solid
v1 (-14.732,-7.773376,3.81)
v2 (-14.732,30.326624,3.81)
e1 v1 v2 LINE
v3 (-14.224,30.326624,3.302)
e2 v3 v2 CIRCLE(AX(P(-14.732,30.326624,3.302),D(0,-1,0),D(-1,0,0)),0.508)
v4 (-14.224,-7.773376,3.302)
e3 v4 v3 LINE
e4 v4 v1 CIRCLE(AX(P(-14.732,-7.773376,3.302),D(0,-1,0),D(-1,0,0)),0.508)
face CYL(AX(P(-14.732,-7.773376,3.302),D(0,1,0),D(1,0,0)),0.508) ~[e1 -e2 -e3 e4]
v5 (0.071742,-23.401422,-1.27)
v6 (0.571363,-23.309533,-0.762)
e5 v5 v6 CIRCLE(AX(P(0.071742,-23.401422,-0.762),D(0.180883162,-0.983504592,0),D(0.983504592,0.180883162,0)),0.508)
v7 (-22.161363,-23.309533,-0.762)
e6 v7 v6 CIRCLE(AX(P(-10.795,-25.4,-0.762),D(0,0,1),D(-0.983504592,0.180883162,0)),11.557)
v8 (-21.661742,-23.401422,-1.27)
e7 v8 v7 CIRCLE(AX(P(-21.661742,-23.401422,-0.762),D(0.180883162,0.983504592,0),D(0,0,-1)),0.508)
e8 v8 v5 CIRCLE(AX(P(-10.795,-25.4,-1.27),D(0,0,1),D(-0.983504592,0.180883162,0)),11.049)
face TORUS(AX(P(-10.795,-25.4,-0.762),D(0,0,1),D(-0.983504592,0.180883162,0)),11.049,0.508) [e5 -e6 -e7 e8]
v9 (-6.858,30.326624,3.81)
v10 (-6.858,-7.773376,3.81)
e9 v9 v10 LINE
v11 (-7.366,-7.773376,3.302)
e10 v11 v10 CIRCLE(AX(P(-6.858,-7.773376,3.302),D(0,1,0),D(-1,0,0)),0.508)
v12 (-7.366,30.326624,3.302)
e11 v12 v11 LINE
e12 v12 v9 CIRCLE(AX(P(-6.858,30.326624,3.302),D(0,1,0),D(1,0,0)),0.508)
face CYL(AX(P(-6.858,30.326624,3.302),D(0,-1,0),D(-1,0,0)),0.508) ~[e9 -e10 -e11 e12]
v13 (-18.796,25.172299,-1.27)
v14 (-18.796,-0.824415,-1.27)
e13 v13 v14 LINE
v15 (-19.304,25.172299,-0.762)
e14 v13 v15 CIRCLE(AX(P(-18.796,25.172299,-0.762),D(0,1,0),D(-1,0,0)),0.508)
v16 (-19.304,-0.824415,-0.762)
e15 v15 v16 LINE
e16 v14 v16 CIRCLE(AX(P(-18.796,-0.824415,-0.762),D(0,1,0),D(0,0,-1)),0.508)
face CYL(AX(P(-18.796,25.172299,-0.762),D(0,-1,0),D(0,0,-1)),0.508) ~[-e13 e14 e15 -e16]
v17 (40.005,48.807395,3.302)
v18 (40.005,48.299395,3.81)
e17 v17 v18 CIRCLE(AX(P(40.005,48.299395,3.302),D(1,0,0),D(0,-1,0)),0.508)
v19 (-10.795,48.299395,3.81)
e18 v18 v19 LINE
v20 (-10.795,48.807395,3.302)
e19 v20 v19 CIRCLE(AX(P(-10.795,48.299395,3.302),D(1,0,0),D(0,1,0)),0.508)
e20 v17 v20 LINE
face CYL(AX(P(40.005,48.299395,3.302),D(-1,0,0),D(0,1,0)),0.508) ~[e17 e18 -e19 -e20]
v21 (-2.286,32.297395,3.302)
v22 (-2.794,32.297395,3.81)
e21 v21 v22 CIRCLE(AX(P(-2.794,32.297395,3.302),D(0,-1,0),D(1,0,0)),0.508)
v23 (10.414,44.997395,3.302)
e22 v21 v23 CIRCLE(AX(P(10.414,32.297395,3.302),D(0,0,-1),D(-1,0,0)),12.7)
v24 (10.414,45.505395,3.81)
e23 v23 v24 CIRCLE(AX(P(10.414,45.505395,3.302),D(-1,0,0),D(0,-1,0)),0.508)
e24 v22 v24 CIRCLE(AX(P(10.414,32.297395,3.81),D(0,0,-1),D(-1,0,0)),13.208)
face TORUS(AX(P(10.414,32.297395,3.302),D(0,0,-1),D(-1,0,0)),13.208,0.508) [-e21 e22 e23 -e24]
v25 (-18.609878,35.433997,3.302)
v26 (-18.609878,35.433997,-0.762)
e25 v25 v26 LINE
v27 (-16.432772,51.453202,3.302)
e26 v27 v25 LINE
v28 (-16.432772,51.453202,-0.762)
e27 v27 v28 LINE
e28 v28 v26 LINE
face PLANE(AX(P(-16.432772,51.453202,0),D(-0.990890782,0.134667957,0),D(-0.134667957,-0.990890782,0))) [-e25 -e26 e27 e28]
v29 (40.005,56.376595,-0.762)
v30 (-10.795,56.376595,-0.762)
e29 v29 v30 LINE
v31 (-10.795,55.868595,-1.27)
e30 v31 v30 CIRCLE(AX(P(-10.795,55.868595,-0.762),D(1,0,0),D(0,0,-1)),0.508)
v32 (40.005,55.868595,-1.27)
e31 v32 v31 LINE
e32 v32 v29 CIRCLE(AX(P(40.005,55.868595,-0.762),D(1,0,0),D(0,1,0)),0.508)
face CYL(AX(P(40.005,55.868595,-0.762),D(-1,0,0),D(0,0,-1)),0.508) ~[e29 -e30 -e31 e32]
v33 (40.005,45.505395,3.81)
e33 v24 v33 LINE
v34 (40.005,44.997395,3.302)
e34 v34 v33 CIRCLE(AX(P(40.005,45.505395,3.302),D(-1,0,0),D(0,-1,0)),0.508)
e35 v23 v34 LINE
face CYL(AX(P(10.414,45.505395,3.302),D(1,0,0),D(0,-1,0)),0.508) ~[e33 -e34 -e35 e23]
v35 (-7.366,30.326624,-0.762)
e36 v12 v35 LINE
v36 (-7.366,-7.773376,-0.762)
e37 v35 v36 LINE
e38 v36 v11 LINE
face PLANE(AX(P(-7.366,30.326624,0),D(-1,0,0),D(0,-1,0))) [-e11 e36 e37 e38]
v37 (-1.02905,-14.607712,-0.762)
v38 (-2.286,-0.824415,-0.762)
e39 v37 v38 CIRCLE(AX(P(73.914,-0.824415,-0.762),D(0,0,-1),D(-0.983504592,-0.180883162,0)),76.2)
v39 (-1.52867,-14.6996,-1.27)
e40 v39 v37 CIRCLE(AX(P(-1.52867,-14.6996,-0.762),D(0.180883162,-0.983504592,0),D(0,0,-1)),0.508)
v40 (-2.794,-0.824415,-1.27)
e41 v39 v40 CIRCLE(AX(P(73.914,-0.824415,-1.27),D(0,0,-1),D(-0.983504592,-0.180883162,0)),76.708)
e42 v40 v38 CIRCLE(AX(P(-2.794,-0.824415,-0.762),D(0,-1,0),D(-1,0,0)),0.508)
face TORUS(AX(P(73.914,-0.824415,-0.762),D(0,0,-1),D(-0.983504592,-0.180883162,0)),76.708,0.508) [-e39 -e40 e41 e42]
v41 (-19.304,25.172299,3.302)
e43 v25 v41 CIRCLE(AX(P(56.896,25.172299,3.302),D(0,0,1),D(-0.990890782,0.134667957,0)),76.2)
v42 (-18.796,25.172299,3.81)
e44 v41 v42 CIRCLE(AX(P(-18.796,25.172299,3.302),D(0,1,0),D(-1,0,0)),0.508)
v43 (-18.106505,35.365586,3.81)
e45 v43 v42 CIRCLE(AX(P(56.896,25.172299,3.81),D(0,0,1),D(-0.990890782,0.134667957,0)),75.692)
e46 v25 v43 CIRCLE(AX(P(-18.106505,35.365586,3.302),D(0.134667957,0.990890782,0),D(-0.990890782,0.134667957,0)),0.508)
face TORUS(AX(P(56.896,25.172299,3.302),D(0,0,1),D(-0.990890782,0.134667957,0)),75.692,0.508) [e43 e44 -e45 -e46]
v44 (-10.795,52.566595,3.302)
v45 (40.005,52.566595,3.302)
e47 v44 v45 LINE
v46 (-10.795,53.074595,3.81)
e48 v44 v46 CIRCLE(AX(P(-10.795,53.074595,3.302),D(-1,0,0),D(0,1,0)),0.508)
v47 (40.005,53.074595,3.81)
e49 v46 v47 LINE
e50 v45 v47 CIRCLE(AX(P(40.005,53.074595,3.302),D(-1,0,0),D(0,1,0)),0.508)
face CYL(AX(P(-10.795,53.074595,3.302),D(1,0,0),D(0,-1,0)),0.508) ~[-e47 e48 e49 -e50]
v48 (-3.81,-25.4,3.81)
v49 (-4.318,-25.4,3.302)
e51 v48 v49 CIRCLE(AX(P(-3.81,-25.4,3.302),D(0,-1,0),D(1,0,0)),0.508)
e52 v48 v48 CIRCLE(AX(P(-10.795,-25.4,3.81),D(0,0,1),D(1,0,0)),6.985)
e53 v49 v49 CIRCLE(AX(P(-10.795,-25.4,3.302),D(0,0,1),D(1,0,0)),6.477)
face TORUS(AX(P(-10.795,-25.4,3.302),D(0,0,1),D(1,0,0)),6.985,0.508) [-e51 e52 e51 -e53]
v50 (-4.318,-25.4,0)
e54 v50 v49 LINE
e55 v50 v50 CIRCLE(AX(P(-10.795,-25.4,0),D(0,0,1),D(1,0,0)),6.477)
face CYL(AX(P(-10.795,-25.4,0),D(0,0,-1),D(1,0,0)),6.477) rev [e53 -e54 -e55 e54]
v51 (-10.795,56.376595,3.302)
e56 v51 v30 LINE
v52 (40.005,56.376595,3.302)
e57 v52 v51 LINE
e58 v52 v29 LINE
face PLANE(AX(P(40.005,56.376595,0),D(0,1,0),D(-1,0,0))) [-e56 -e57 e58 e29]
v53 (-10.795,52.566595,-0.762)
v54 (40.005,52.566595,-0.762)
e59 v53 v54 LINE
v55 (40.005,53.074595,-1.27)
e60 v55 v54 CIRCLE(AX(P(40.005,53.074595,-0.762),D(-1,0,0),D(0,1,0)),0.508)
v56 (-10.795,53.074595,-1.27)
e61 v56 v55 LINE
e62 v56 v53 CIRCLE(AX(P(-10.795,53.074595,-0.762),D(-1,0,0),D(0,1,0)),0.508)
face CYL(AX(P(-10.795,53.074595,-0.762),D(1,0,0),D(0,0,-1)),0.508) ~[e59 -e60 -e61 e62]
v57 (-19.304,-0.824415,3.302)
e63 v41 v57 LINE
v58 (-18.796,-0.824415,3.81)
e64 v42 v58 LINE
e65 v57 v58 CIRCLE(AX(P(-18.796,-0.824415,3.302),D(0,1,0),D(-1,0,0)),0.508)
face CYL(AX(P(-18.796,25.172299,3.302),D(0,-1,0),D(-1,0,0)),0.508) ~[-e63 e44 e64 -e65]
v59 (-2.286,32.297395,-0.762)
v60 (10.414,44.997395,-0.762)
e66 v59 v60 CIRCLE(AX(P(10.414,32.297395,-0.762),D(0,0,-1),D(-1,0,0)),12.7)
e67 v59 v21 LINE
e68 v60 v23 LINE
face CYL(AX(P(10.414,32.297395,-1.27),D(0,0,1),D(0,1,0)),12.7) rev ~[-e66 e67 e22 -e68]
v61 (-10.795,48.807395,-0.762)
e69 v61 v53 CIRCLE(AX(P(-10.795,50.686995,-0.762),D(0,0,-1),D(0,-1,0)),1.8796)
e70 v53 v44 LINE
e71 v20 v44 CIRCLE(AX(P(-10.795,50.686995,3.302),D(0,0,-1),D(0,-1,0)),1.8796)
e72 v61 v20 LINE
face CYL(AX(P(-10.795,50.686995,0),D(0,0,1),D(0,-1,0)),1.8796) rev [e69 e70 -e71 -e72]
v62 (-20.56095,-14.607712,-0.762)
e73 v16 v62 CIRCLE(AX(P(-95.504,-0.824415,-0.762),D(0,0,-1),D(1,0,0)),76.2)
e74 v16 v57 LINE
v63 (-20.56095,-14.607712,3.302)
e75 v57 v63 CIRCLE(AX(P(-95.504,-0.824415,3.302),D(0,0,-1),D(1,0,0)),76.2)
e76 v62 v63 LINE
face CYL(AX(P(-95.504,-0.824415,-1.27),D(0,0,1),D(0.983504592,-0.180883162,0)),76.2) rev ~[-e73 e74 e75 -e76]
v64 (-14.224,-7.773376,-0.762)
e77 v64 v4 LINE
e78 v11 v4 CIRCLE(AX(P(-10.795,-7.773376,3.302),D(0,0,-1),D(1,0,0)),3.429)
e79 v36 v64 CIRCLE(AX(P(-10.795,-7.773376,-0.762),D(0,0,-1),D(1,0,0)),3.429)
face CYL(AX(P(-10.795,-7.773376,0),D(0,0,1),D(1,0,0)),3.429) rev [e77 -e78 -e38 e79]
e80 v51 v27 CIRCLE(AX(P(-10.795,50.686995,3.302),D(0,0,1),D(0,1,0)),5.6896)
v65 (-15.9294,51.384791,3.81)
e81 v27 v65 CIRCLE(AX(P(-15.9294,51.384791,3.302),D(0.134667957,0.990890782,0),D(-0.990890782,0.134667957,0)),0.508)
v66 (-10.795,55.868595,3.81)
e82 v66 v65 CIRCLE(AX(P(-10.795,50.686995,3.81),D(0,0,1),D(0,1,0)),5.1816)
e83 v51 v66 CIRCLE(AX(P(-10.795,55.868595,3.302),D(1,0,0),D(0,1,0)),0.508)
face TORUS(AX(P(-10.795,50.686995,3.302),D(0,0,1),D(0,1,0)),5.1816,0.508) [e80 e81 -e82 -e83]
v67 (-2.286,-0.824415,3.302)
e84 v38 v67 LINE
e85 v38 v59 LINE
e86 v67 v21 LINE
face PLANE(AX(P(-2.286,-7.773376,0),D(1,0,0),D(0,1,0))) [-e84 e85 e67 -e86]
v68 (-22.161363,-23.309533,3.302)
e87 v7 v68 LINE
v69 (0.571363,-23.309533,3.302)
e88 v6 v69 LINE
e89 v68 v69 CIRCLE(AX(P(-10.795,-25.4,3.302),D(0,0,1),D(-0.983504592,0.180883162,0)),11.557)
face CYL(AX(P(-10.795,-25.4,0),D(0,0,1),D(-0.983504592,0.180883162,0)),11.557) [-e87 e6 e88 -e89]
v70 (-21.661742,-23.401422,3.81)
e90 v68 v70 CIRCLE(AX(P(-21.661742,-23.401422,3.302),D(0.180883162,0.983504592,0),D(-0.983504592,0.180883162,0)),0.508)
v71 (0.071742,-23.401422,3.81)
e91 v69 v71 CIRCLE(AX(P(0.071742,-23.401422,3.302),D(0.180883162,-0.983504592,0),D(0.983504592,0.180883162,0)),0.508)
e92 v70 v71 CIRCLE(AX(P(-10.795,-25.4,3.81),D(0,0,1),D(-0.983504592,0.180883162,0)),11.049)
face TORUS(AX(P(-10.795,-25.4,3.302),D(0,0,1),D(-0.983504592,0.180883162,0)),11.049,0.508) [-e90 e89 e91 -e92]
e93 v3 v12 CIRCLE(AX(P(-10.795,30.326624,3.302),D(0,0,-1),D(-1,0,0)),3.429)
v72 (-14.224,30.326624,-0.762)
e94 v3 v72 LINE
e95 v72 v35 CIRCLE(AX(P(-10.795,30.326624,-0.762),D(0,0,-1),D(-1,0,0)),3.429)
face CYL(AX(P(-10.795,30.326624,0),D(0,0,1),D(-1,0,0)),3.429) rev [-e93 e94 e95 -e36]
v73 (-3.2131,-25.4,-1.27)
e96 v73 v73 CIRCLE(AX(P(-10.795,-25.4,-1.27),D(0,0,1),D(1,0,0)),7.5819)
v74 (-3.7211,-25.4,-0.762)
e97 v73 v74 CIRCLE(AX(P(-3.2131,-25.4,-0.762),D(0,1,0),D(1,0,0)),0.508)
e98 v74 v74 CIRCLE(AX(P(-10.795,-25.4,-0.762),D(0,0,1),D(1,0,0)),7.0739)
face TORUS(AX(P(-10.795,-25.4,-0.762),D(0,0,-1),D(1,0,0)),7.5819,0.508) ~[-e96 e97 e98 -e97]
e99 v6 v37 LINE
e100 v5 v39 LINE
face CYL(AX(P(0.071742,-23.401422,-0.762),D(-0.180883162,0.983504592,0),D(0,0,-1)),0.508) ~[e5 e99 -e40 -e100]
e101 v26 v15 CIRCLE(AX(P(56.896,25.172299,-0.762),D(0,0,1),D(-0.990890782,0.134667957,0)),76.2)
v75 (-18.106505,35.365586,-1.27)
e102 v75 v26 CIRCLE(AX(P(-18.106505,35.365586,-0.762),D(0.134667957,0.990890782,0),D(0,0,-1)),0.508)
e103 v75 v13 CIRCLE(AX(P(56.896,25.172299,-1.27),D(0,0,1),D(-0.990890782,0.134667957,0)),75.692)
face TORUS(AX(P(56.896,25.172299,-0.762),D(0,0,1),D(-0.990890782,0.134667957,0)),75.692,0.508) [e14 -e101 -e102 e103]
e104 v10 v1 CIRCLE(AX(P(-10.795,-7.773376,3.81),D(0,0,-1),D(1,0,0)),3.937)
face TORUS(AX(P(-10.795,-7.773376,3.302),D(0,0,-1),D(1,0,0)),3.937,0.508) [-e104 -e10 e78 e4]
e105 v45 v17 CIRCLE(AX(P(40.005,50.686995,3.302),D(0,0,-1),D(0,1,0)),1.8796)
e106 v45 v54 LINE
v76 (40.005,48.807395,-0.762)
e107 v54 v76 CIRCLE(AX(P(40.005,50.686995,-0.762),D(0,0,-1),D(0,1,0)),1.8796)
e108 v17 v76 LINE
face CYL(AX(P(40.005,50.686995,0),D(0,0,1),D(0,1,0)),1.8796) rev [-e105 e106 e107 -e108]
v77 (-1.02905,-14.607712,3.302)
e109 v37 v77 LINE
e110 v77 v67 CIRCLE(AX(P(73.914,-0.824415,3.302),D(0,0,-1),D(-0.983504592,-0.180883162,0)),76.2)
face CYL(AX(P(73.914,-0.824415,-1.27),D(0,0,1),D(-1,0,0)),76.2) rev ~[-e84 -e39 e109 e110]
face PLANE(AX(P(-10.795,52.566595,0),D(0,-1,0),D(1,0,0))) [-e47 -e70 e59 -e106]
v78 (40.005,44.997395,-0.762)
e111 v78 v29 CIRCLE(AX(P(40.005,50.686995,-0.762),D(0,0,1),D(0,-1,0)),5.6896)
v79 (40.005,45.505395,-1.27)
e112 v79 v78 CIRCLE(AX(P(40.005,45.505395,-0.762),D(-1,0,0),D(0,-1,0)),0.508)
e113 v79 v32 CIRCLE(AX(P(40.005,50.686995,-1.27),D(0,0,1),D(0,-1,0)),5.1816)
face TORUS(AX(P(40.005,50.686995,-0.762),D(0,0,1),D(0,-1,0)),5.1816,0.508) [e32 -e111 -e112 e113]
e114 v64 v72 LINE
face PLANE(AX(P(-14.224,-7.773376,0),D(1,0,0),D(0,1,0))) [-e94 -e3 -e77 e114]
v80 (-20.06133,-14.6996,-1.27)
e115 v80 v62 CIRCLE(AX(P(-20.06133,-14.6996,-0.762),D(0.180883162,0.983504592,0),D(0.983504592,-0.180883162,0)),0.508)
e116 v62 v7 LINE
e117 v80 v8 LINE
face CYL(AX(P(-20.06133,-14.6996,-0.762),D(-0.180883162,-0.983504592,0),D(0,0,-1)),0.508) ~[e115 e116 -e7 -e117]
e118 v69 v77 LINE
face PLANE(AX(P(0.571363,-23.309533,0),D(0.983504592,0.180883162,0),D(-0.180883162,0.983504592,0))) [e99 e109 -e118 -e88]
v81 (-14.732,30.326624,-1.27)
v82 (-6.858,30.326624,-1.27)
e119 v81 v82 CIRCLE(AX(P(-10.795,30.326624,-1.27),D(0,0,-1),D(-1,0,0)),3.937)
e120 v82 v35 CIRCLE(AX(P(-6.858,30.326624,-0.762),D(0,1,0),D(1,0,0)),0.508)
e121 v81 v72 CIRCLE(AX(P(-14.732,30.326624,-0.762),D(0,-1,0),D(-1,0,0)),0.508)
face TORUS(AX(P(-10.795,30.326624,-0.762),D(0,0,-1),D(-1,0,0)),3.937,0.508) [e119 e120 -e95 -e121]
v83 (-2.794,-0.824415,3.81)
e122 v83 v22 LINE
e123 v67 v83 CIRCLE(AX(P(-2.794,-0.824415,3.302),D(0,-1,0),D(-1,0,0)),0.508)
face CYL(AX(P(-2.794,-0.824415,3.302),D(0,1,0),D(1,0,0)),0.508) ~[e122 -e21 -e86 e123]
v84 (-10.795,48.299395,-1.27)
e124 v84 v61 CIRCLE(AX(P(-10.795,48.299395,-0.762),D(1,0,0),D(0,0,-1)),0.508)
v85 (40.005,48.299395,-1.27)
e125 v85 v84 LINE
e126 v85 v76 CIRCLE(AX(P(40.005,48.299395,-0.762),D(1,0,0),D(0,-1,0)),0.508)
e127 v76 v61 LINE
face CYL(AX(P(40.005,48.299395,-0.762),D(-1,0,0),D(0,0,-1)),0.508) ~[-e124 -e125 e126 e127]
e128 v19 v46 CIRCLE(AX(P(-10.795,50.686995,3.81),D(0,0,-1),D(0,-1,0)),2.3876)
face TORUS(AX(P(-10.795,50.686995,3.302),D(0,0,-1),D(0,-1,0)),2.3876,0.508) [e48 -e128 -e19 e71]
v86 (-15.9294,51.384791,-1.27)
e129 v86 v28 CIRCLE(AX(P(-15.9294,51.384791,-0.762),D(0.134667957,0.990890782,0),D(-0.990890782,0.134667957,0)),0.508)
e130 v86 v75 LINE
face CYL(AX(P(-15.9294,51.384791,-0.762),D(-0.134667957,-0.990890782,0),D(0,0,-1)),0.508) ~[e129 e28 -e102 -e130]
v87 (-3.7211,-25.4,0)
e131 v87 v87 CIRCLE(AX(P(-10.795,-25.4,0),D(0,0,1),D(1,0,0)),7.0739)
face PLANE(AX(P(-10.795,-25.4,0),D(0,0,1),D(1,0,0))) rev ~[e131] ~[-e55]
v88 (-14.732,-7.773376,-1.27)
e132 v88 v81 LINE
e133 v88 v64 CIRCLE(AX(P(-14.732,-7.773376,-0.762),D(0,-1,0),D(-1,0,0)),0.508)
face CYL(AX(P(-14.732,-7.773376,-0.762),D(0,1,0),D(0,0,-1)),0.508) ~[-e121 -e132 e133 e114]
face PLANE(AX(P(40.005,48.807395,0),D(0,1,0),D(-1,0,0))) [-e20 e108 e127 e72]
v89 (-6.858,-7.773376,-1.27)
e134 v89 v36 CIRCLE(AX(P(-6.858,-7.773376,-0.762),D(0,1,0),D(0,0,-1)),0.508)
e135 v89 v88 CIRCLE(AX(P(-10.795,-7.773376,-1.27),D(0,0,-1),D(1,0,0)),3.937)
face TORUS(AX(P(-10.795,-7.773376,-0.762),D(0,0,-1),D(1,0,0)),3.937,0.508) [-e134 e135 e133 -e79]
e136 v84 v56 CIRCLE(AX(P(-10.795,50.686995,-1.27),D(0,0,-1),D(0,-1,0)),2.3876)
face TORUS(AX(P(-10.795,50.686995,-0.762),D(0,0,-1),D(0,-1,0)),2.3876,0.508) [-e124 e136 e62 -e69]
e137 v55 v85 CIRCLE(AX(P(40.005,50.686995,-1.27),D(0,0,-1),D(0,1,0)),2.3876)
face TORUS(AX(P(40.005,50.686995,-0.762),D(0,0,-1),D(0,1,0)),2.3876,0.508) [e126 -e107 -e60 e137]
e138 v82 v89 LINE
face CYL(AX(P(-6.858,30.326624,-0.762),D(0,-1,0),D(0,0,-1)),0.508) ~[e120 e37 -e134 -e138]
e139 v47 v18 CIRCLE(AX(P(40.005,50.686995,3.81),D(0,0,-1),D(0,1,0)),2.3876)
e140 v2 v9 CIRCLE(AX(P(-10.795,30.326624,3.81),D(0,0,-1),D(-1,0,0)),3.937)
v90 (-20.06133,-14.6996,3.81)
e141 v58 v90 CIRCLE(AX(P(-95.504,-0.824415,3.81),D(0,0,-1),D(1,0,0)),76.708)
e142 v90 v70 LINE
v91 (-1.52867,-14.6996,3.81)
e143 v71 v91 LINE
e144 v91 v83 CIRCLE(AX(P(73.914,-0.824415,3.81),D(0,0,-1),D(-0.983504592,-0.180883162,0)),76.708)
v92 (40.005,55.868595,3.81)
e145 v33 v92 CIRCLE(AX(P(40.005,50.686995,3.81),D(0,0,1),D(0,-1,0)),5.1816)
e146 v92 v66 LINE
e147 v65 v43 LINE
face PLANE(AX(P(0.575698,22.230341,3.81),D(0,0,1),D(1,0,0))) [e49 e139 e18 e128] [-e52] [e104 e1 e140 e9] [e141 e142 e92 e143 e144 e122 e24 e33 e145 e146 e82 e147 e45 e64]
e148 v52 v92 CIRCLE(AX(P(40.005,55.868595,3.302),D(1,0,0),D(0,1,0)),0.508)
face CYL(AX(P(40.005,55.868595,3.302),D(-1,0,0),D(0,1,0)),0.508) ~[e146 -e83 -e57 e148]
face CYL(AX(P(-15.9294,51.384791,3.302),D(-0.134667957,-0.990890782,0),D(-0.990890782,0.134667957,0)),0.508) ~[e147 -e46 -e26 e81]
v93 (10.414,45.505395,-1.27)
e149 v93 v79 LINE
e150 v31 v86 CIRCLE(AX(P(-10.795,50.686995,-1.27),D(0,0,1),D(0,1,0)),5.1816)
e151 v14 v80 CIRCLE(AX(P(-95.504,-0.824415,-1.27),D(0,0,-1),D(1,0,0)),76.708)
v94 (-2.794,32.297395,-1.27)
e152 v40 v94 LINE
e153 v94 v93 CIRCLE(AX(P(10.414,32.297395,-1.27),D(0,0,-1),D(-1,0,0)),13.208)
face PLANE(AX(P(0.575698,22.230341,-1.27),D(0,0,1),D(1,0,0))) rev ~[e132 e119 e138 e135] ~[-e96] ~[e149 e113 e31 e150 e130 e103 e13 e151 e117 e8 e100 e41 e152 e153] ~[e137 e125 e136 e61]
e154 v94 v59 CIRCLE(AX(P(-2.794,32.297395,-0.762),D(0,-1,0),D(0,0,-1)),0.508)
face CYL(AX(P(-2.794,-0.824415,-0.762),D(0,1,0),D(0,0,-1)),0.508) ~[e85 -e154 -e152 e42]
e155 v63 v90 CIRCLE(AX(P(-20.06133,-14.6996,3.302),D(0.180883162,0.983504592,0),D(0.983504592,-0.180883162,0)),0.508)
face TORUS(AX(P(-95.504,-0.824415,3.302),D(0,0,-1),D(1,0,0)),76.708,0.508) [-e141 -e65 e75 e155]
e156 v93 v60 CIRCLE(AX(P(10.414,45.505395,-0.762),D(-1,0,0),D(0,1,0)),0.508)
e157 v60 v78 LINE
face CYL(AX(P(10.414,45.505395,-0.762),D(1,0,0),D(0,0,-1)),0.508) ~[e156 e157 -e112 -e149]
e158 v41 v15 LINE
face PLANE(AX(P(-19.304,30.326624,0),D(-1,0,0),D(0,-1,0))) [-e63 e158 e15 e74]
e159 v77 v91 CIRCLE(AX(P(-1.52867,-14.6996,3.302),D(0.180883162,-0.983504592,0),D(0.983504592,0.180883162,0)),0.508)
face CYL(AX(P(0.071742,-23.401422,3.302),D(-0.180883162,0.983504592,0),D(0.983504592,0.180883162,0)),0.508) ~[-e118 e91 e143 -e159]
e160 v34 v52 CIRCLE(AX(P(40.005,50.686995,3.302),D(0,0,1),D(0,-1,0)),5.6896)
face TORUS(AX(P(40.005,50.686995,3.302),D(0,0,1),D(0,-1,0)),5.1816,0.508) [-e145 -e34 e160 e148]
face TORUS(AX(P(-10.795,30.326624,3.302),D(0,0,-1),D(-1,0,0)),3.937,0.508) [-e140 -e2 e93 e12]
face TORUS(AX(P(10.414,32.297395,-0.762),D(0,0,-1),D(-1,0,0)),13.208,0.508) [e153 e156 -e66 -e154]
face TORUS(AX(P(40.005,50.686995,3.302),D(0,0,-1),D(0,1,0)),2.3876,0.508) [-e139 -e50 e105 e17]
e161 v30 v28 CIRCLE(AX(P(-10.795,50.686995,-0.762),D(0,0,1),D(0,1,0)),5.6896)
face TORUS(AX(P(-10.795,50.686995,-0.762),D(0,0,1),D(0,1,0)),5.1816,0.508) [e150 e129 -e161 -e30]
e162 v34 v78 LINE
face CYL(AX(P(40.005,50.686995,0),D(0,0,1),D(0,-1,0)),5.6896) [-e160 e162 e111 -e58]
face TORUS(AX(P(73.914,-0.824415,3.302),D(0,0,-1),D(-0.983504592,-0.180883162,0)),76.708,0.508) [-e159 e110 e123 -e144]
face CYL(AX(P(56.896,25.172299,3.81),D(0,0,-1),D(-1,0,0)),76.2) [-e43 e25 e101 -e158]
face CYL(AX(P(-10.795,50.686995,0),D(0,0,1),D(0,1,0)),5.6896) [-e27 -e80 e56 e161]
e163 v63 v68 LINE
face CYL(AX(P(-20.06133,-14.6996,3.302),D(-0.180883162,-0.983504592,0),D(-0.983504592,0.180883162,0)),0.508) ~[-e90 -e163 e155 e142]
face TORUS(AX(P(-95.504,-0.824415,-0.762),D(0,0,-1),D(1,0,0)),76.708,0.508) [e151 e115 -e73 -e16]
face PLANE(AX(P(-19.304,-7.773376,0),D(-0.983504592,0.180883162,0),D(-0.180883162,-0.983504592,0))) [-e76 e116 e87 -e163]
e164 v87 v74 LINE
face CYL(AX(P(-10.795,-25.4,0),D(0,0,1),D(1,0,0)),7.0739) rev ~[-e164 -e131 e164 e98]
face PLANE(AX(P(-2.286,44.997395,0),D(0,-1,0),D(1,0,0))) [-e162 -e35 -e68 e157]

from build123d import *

# Parameters (mm, degrees)
SKETCH1_R                = 6.477
BOSS_EXTRUDE1_DEPTH      = 3.81
BOSS_EXTRUDE1_DEPTH_BACK = 1.27
SKETCH2_R                = 7.0739
CUT_EXTRUDE1_DEPTH       = 2.27
FILLET2_R                = 12.7
FILLET3_R                = 76.2
FILLET1_R                = 0.508


with BuildPart() as part:
    # Sketch1 → Boss-Extrude1 (new body, two sides)
    with BuildSketch(Plane.XY) as boss_extrude1_sk:
        with BuildLine():
            Line((-19.304, 30.32662374), (-19.304, -7.77337626))
            Line((-19.304, -7.77337626), (-22.161362566, -23.309533302))
            ThreePointArc((-22.161362566, -23.309533302), (-10.795, -36.957), (0.571362566, -23.309533302))
            Line((0.571362566, -23.309533302), (-2.286, -7.77337626))
            Line((-2.286, -7.77337626), (-2.286, 30.32662374))
            Line((-2.286, 30.32662374), (-2.286, 44.9973954))
            Line((-2.286, 44.9973954), (40.005, 44.9973954))
            ThreePointArc((40.005, 44.9973954), (45.6946, 50.6869954), (40.005, 56.3765954))
            Line((40.005, 56.3765954), (-10.795, 56.3765954))
            ThreePointArc((-10.795, 56.3765954), (-14.537468296, 54.972491779), (-16.432772192, 51.45320221))
            Line((-16.432772192, 51.45320221), (-19.304, 30.32662374))
        make_face()
        with Locations((-10.795, -25.4)):
            Circle(SKETCH1_R, mode=Mode.SUBTRACT)
        with BuildLine():
            ThreePointArc((-7.366, -7.77337626), (-10.795, -11.20237626), (-14.224, -7.77337626))
            Line((-14.224, -7.77337626), (-14.224, 30.32662374))
            ThreePointArc((-14.224, 30.32662374), (-10.795, 33.75562374), (-7.366, 30.32662374))
            Line((-7.366, 30.32662374), (-7.366, -7.77337626))
        make_face(mode=Mode.SUBTRACT)
        with BuildLine():
            ThreePointArc((-10.795, 48.8073954), (-12.6746, 50.6869954), (-10.795, 52.5665954))
            Line((-10.795, 52.5665954), (40.005, 52.5665954))
            ThreePointArc((40.005, 52.5665954), (41.8846, 50.6869954), (40.005, 48.8073954))
            Line((40.005, 48.8073954), (-10.795, 48.8073954))
        make_face(mode=Mode.SUBTRACT)
    extrude(amount=BOSS_EXTRUDE1_DEPTH)
    extrude(boss_extrude1_sk.sketch, amount=-BOSS_EXTRUDE1_DEPTH_BACK)

    # Sketch2 → Cut-Extrude1 (cut, through all)
    with BuildSketch(Plane.XY):
        with Locations((-10.795, -25.4)):
            Circle(SKETCH2_R)
    extrude(amount=-CUT_EXTRUDE1_DEPTH, mode=Mode.SUBTRACT)

    # Fillet2
    fillet2_edges = [part.edges().sort_by_distance(p)[0] for p in [
        (-2.286, 44.9973954, 1.27),
    ]]
    fillet(fillet2_edges, radius=FILLET2_R)

    # Fillet3
    fillet3_edges = [part.edges().sort_by_distance(p)[0] for p in [
        (-2.286, -7.77337626, 1.27),
        (-19.304, -7.77337626, 1.27),
        (-19.304, 30.32662374, 1.27),
    ]]
    fillet(fillet3_edges, radius=FILLET3_R)

    # Fillet1
    fillet1_edges = [part.edges().sort_by_distance(p)[0] for p in [
        (45.6946, 50.6869954, -1.27),
        (-17.8689, -25.4, -1.27),
        (25.2095, 44.9973954, 3.81),
        (25.2095, 44.9973954, -1.27),
        (1.433743879, 41.277651521, 3.81),
        (1.433743879, 41.277651521, -1.27),
        (-0.22884366, -18.958622519, 3.81),
        (-0.22884366, -18.958622519, -1.27),
        (-2.286, 15.736490286, -1.27),
        (-2.286, 15.736490286, 3.81),
        (-19.304, 12.173941902, 3.81),
        (-19.304, 12.173941902, -1.27),
        (-21.36115634, -18.958622519, 3.81),
        (-21.36115634, -18.958622519, -1.27),
        (-17.521324879, 43.443599594, 3.81),
        (-17.521324879, 43.443599594, -1.27),
        (-19.130271349, 30.314872376, 3.81),
        (-19.130271349, 30.314872376, -1.27),
        (-1.971111851, -7.744660438, 3.81),
        (-1.971111851, -7.744660438, -1.27),
        (-19.618888149, -7.744660438, 3.81),
        (-19.618888149, -7.744660438, -1.27),
        (-10.795, 33.75562374, -1.27),
        (-7.366, 11.27662374, -1.27),
        (-10.795, -11.20237626, -1.27),
        (-14.224, 11.27662374, -1.27),
        (41.8846, 50.6869954, -1.27),
        (14.605, 48.8073954, -1.27),
        (-12.6746, 50.6869954, -1.27),
        (14.605, 52.5665954, -1.27),
        (14.605, 56.3765954, 3.81),
        (14.605, 56.3765954, -1.27),
        (41.8846, 50.6869954, 3.81),
        (14.605, 48.8073954, 3.81),
        (-12.6746, 50.6869954, 3.81),
        (-10.795, 33.75562374, 3.81),
        (-7.366, 11.27662374, 3.81),
        (-10.795, -11.20237626, 3.81),
        (-14.537468296, 54.972491779, -1.27),
        (-17.272, -25.4, 3.81),
        (-14.224, 11.27662374, 3.81),
        (14.605, 52.5665954, 3.81),
        (-14.537468296, 54.972491779, 3.81),
        (-10.795, -36.957, 3.81),
        (45.6946, 50.6869954, 3.81),
        (-10.795, -36.957, -1.27),
    ]]
    fillet(fillet1_edges, radius=FILLET1_R)


solid = part.part
